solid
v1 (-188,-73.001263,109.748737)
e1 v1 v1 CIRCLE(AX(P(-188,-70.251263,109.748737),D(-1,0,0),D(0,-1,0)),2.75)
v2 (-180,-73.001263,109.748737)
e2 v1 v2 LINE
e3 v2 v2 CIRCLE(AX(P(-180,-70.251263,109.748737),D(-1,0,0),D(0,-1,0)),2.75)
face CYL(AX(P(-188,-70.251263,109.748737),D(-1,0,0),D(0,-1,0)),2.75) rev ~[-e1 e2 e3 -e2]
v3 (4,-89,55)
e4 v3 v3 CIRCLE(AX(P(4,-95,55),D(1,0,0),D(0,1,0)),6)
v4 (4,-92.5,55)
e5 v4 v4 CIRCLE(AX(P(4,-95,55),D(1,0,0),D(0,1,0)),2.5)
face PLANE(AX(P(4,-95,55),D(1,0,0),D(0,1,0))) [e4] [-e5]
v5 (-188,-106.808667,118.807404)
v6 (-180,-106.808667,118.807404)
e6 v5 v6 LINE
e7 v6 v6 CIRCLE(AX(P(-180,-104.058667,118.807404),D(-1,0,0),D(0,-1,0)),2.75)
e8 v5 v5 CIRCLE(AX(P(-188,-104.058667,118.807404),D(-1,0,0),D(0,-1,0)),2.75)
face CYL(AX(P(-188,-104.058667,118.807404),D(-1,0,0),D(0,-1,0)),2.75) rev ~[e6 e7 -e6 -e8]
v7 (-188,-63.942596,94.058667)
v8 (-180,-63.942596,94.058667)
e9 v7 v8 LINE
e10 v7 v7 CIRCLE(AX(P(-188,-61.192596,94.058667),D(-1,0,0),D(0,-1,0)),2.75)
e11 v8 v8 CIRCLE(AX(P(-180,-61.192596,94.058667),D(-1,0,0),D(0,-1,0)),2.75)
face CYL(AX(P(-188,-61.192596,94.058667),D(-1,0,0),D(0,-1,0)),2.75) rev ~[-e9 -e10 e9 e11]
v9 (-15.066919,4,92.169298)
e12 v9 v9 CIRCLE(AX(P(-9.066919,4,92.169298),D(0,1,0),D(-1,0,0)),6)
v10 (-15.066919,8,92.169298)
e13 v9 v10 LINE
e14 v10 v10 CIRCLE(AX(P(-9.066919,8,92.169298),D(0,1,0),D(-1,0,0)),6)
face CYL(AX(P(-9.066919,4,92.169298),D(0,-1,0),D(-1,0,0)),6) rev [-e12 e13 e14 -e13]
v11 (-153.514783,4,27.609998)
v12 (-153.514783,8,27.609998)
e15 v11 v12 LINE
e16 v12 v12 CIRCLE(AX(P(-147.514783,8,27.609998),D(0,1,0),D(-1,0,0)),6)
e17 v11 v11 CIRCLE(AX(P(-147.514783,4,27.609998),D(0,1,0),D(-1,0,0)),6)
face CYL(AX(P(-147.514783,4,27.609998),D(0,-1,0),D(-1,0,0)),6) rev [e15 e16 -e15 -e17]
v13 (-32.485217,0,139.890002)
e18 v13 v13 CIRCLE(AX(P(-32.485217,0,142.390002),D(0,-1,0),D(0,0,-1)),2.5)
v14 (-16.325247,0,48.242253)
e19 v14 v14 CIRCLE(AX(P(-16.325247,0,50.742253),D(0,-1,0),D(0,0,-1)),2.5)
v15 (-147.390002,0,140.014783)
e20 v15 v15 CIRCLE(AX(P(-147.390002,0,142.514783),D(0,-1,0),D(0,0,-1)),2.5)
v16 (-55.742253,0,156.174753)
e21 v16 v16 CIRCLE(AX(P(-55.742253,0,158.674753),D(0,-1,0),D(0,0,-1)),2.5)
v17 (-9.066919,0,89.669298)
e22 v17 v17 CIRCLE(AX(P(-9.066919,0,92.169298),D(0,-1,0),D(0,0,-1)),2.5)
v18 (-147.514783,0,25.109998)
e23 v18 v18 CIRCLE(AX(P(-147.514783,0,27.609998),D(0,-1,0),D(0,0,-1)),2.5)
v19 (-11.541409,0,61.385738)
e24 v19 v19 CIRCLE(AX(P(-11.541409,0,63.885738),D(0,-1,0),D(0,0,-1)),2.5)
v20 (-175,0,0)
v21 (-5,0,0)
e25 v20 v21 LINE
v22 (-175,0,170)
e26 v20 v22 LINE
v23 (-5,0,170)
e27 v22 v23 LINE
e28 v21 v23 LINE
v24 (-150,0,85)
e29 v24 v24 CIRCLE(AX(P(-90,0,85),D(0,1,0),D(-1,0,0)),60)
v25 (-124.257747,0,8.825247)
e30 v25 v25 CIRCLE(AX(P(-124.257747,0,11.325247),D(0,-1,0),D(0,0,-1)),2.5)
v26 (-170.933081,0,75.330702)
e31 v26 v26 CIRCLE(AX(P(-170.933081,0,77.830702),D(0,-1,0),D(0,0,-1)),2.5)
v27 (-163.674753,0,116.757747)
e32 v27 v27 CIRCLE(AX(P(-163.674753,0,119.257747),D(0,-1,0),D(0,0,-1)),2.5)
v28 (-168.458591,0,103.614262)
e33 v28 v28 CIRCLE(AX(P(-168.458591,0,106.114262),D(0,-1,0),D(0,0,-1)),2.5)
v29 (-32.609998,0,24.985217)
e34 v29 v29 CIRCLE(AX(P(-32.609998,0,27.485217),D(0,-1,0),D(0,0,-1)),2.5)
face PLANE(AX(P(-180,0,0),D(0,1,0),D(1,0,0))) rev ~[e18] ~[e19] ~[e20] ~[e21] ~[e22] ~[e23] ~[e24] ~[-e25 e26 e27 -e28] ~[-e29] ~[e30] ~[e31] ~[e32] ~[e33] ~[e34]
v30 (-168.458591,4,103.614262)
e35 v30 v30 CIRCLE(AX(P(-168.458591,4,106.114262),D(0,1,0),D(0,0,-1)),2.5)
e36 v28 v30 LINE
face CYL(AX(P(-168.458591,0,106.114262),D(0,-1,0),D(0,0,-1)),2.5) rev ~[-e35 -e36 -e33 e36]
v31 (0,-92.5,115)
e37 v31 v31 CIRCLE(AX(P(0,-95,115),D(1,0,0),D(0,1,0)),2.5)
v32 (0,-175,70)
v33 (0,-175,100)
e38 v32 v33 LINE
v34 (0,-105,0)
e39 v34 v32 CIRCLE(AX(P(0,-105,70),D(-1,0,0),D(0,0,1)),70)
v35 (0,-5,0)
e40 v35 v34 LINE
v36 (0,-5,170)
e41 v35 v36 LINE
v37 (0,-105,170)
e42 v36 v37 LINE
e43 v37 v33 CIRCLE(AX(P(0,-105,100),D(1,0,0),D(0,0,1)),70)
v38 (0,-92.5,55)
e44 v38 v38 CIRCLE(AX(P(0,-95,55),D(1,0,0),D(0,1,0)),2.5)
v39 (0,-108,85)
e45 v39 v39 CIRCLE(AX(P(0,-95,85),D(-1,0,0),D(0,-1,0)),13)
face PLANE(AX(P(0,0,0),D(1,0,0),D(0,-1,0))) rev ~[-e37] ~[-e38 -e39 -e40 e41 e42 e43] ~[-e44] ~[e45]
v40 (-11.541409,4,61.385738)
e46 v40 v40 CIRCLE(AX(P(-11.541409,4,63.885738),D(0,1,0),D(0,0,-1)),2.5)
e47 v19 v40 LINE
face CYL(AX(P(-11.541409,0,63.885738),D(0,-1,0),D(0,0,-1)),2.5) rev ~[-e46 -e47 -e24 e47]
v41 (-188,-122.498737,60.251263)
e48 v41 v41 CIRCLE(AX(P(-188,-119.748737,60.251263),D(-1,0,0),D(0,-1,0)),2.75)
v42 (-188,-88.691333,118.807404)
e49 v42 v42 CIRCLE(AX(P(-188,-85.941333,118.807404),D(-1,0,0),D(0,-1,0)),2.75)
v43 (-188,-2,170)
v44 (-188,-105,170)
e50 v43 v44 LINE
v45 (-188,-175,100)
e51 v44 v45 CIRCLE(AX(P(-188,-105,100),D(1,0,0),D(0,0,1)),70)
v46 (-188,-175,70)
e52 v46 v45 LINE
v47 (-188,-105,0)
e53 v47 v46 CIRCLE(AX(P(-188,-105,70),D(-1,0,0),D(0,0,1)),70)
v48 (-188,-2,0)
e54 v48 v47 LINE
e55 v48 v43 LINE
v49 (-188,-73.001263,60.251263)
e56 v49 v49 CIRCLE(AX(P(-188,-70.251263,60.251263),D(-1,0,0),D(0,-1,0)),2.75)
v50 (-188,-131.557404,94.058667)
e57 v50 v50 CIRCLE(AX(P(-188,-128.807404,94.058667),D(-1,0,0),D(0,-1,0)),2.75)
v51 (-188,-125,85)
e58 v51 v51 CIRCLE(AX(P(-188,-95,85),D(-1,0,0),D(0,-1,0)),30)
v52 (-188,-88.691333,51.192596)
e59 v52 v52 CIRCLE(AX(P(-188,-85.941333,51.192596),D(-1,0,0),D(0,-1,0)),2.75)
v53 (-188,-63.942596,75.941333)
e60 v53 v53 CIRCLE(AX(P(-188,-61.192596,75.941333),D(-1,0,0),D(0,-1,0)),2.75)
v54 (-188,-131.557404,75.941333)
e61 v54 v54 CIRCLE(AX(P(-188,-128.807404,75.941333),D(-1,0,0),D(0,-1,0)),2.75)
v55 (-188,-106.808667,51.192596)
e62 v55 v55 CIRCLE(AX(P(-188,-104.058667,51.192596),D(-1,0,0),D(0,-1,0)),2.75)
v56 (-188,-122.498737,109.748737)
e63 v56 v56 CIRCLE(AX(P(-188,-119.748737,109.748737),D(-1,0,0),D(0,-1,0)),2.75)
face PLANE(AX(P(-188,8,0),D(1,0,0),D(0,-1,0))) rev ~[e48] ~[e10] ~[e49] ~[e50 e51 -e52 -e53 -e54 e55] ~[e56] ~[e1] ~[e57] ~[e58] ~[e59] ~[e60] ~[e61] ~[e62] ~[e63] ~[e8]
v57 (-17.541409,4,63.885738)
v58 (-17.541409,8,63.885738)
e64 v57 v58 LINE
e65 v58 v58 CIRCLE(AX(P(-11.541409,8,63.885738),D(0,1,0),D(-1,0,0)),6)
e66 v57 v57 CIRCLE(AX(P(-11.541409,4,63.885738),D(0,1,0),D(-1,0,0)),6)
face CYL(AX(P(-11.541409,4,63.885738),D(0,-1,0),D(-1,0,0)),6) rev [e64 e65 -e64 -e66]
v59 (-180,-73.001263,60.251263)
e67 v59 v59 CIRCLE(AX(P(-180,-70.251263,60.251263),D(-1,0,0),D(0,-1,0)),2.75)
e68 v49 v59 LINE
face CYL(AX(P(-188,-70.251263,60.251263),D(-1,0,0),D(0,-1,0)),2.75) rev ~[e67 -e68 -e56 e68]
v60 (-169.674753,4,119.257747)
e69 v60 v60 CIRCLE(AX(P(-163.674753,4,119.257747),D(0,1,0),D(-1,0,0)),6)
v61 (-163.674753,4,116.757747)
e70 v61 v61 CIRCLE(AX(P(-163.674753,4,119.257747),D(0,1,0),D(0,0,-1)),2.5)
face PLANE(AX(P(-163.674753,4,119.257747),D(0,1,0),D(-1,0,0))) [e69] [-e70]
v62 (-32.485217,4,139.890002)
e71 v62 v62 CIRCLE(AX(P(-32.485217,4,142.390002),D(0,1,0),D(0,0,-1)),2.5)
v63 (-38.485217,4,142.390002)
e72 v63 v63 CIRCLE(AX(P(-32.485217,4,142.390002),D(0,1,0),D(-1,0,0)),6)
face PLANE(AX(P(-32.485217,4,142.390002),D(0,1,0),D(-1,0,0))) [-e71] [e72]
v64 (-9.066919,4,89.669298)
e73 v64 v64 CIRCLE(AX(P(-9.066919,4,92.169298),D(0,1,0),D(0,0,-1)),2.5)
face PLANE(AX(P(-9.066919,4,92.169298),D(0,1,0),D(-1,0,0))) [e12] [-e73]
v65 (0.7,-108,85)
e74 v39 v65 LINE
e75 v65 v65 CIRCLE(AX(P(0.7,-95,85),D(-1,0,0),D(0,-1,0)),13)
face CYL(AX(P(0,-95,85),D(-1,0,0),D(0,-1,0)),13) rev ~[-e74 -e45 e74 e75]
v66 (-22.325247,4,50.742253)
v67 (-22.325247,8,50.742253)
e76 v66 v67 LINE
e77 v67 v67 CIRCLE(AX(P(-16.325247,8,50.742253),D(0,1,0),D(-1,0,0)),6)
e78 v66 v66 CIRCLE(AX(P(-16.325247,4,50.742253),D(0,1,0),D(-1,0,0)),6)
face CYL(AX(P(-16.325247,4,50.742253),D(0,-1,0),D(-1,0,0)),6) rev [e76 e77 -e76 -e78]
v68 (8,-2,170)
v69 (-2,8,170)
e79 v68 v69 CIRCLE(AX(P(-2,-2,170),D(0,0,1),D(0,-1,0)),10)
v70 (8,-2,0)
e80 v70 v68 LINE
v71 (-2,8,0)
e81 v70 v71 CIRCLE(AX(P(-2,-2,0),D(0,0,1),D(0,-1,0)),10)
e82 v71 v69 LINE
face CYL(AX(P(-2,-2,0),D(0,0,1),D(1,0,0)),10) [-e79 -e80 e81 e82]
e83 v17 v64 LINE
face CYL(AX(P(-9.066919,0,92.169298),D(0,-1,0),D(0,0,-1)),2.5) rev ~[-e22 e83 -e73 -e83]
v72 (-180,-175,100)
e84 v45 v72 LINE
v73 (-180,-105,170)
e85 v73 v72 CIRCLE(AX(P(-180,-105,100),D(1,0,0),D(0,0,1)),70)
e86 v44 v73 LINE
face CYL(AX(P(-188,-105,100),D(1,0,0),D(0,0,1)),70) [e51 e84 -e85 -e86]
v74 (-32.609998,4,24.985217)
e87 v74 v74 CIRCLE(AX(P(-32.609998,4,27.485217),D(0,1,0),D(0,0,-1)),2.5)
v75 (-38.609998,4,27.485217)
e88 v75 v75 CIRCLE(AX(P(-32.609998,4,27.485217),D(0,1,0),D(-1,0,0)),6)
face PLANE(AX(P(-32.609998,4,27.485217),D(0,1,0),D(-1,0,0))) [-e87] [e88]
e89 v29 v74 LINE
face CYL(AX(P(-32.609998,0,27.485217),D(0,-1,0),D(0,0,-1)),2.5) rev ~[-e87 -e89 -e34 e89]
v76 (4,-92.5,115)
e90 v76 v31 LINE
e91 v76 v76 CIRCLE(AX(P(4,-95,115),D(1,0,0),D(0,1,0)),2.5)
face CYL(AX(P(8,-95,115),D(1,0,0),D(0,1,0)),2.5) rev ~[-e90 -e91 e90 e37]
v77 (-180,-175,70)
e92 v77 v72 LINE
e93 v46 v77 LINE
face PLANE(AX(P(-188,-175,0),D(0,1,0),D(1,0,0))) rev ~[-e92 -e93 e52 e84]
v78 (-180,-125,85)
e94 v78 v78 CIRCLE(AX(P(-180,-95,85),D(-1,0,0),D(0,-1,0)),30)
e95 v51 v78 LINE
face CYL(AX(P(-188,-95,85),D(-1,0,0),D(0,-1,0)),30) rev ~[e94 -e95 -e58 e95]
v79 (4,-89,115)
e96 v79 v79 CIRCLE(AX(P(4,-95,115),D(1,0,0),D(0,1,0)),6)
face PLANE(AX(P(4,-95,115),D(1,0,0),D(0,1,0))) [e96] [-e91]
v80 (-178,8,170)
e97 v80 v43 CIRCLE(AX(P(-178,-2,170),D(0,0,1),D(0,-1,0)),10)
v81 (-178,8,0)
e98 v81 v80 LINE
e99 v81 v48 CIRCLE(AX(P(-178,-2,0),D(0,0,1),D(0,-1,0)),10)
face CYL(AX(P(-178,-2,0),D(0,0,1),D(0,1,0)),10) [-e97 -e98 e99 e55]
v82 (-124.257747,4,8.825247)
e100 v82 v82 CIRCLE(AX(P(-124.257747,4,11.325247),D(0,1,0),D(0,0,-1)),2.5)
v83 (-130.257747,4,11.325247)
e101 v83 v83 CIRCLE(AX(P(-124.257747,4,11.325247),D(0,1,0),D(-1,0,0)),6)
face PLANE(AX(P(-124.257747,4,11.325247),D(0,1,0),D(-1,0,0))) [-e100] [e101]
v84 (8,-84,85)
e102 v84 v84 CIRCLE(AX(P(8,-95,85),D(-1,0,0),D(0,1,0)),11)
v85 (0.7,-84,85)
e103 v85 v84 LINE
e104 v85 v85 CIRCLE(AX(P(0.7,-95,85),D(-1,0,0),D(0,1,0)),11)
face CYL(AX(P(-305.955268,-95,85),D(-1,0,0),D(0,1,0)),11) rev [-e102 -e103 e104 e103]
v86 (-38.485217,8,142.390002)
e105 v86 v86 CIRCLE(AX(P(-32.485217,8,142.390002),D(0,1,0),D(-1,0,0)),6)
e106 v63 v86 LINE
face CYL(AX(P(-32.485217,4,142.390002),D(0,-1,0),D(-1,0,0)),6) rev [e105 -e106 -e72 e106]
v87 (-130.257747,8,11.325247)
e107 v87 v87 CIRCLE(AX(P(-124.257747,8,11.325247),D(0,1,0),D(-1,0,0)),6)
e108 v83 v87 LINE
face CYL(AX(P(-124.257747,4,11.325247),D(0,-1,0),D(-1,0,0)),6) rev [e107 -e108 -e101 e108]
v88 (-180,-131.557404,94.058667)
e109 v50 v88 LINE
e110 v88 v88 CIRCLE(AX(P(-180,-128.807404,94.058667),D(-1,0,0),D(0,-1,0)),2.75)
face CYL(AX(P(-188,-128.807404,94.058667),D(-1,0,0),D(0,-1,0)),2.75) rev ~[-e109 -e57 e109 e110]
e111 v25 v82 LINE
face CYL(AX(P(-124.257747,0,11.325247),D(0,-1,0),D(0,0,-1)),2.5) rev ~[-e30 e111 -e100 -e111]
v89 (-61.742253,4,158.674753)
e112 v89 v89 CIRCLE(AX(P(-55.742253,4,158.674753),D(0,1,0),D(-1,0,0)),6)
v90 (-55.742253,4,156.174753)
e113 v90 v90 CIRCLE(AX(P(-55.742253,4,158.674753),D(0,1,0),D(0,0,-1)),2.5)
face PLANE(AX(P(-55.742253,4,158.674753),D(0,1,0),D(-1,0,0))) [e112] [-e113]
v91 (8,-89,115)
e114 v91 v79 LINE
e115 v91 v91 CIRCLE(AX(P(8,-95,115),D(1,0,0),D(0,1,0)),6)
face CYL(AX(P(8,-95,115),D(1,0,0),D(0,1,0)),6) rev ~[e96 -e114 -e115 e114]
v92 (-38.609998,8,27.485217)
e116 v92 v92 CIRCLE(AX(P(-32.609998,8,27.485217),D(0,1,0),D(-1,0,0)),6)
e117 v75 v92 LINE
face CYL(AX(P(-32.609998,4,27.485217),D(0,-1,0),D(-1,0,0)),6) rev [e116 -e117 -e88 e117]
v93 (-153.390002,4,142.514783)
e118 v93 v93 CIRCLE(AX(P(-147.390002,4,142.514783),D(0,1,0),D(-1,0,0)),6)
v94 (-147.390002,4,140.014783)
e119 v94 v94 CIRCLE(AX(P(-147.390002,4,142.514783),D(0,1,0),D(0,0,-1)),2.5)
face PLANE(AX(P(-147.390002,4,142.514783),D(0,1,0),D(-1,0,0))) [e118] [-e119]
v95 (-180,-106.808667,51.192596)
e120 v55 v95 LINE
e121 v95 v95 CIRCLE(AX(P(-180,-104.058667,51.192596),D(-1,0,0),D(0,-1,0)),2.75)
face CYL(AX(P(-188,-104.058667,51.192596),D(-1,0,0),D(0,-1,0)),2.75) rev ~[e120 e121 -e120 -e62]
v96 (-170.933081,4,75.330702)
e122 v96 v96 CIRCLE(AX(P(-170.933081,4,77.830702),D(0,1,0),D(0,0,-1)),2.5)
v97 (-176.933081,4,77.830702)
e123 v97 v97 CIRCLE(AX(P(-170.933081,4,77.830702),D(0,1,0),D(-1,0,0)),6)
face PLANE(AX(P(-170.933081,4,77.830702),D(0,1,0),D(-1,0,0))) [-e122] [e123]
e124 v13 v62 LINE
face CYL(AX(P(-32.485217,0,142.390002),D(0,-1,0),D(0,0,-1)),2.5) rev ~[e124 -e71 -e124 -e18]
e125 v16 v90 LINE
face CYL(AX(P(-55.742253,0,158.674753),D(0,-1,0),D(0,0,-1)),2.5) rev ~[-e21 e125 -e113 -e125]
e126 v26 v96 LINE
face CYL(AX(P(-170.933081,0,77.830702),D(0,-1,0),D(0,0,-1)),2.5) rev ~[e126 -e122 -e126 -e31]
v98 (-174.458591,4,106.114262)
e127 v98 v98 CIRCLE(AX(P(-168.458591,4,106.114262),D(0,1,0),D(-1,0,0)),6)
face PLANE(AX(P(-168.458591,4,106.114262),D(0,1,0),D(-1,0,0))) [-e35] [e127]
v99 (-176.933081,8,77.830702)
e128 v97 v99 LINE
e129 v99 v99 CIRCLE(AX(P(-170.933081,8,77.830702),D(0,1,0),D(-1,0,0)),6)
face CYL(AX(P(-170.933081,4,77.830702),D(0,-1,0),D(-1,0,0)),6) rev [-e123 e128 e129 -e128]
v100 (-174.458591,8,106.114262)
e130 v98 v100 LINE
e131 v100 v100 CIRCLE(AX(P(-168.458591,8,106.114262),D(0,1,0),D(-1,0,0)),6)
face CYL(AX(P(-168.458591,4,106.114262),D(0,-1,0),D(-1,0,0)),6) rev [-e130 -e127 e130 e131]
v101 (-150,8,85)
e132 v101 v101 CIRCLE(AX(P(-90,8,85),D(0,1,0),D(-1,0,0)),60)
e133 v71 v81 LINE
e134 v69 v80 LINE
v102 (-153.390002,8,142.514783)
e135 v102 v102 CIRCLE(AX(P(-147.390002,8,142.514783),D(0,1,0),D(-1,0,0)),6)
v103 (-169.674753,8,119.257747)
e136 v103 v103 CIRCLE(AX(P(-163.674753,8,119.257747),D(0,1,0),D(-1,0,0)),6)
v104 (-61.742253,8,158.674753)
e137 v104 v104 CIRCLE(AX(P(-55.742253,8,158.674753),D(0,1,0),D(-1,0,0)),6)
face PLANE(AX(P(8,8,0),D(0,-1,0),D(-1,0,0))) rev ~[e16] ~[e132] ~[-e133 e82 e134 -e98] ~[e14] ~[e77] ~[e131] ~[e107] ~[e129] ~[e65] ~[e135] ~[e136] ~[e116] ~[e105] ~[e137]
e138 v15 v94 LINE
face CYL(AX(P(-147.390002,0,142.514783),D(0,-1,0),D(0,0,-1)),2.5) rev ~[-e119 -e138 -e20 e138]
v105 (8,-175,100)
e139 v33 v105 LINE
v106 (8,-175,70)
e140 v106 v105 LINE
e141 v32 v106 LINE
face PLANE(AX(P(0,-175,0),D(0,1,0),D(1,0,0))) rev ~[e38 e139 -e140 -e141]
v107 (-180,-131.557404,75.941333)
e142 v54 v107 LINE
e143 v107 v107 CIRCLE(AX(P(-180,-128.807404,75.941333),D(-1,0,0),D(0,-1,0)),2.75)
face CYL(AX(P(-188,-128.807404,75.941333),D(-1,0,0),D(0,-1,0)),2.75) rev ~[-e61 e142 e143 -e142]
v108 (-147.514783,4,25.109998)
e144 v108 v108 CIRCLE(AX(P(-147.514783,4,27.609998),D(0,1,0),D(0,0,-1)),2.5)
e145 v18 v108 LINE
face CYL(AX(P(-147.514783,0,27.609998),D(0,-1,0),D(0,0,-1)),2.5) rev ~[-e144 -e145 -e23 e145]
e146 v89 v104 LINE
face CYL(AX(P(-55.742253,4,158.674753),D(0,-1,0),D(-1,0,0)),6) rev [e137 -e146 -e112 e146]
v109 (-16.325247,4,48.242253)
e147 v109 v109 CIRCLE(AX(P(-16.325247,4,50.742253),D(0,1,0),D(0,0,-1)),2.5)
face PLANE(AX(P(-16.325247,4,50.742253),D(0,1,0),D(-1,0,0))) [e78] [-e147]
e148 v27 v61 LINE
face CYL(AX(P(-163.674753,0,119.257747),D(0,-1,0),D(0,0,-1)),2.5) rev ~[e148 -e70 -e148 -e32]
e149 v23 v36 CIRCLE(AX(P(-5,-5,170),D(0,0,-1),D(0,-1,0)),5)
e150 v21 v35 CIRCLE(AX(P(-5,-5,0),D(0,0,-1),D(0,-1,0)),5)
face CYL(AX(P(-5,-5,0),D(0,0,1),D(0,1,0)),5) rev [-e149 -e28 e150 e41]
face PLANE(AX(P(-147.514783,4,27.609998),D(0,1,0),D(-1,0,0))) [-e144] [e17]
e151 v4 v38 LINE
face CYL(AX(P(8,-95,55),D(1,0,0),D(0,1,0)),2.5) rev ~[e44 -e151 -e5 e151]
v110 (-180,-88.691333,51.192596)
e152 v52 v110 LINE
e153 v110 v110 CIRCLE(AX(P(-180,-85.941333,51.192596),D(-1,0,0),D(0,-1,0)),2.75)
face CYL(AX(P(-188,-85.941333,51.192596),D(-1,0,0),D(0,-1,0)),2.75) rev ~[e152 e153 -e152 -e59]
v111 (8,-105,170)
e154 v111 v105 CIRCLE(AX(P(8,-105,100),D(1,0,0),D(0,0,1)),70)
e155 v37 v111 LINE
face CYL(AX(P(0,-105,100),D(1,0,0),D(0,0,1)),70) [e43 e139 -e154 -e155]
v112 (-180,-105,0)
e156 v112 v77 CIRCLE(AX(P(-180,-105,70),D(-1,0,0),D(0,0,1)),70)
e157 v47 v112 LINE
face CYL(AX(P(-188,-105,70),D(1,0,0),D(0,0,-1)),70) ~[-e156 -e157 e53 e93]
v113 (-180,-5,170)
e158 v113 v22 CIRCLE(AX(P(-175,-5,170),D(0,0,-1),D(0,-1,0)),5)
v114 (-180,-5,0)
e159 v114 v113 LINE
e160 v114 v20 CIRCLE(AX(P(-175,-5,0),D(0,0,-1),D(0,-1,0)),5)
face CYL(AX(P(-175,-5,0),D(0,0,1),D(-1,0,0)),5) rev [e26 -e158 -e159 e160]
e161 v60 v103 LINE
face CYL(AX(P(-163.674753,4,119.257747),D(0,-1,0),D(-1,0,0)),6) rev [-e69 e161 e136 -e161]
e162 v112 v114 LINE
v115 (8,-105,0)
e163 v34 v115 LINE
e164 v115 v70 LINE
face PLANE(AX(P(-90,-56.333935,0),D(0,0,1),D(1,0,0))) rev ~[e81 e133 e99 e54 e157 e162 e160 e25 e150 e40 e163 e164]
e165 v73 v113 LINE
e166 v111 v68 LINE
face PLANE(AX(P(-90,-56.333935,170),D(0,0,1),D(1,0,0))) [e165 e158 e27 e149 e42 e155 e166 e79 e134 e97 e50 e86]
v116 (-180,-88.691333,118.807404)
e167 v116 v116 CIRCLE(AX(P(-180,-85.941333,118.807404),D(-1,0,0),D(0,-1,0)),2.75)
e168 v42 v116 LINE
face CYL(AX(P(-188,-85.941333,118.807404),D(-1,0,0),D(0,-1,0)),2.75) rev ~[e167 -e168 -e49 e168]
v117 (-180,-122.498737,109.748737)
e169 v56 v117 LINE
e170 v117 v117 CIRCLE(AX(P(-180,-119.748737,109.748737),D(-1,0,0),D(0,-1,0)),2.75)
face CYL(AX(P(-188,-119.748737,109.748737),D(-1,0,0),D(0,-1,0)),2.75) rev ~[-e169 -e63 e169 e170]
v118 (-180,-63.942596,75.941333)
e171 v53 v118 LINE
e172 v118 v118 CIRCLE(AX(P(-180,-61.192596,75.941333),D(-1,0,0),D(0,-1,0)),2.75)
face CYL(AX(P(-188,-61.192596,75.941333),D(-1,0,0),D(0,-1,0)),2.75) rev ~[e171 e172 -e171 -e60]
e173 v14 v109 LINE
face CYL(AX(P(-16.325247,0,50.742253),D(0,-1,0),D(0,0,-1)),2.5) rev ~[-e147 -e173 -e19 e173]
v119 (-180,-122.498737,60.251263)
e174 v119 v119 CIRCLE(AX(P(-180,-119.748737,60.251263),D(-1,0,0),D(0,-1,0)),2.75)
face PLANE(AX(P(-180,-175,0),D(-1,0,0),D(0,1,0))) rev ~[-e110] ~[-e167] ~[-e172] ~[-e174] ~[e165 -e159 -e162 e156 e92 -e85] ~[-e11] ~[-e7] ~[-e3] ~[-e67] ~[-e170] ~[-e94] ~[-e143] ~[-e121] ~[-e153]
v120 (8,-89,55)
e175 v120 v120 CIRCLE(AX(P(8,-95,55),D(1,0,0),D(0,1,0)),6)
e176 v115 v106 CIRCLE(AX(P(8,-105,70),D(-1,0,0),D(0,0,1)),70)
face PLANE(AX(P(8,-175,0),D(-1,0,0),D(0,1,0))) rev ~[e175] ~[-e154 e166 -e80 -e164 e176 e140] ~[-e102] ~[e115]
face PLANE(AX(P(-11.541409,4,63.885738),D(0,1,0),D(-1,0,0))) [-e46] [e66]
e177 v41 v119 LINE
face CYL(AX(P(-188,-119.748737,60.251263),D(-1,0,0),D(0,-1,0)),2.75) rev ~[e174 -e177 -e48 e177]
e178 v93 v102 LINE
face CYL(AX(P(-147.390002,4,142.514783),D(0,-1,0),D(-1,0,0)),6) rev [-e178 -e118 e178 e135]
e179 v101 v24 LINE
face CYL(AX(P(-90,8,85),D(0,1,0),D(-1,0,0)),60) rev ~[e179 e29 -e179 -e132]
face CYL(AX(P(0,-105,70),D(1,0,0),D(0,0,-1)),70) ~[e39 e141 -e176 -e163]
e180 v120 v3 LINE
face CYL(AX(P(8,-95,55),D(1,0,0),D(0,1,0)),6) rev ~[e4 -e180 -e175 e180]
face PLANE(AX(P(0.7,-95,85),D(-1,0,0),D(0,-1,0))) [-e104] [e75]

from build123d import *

# Parameters (mm, degrees)
EXTRUDE_1_DEPTH          = 170
SKETCH_2_R               = 60
CUT_EXTRUDE_1_DEPTH      = 180
CUT_EXTRUDE_2_DEPTH      = 313.955268369
CUT_EXTRUDE_2_DEPTH_BACK = 313.955268369
SKETCH_3_R               = 11
FILLET_1_R               = 70
FILLET_2_R               = 5
FILLET_3_R               = 10
SKETCH_6_R               = 30
CUT_EXTRUDE_6_DEPTH      = 39
SKETCH_7_R               = 13
CUT_EXTRUDE_7_DEPTH      = 0.7
SKETCH_8_R               = 2.5
CUT_EXTRUDE_8_DEPTH      = 10
SKETCH_9_R               = 6
CUT_EXTRUDE_9_DEPTH      = 4
SKETCH_10_R              = 2.5
CUT_EXTRUDE_10_DEPTH     = 10
CUT_EXTRUDE_START        = -4
SKETCH_11_R              = 6
SKETCH_11_R_2            = 2.5
CUT_EXTRUDE_11_DEPTH     = 4
SKETCH_12_R              = 2.75
CUT_EXTRUDE_12_DEPTH     = 10


with BuildPart() as part:
    # 草图1 → 凸台-拉伸1 (new body)
    with BuildSketch(Plane.XY):
        Polygon((-180, 0), (0, 0), (0, -175), (8, -175), (8, 8), (-180, 8), (-188, 8), (-188, -175), (-180, -175), align=None)
    extrude(amount=EXTRUDE_1_DEPTH)

    # 草图2 → 切除-拉伸1 (cut)
    with BuildSketch(Plane(origin=(0, 8, 0), x_dir=(1, 0, 0), z_dir=(0, 1, 0))):
        with Locations(Location((-90, -85, 0), (0, 0, 180))):
            Circle(SKETCH_2_R)
    extrude(amount=-CUT_EXTRUDE_1_DEPTH, mode=Mode.SUBTRACT)

    # 草图3 → 切除-拉伸2 (cut, two sides: drawn at the far end of the back side and taken through both)
    with BuildSketch(Plane(origin=(8, 0, 0), x_dir=(0, 0, -1), z_dir=(1, 0, 0)).offset(-CUT_EXTRUDE_2_DEPTH_BACK)):
        with Locations(Location((-85, -95, 0), (0, 0, 90))):
            Circle(SKETCH_3_R)
    extrude(amount=CUT_EXTRUDE_2_DEPTH + CUT_EXTRUDE_2_DEPTH_BACK, mode=Mode.SUBTRACT)

    # 圆角1
    fillet_1_edges = [part.edges().sort_by_distance(p)[0] for p in [
        (4, -175, 0),
        (4, -175, 170),
        (-184, -175, 170),
        (-184, -175, 0),
    ]]
    fillet(fillet_1_edges, radius=FILLET_1_R)

    # 圆角2
    fillet_2_edges = [part.edges().sort_by_distance(p)[0] for p in [
        (0, 0, 85),
        (-180, 0, 85),
    ]]
    fillet(fillet_2_edges, radius=FILLET_2_R)

    # 圆角3
    fillet_3_edges = [part.edges().sort_by_distance(p)[0] for p in [
        (-188, 8, 85),
        (8, 8, 85),
    ]]
    fillet(fillet_3_edges, radius=FILLET_3_R)

    # 草图6 → 切除-拉伸6 (cut)
    with BuildSketch(Plane.ZY.offset(188)):
        with Locations(Location((85, -95, 0), (0, 0, 270))):
            Circle(SKETCH_6_R)
    extrude(amount=-CUT_EXTRUDE_6_DEPTH, mode=Mode.SUBTRACT)

    # 草图7 → 切除-拉伸7 (cut)
    with BuildSketch(Plane.ZY):
        with Locations(Location((85, -95, 0), (0, 0, 270))):
            Circle(SKETCH_7_R)
    extrude(amount=-CUT_EXTRUDE_7_DEPTH, mode=Mode.SUBTRACT)

    # 草图8 → 切除-拉伸8 (cut)
    with BuildSketch(Plane(origin=(8, 0, 0), x_dir=(0, 0, -1), z_dir=(1, 0, 0))):
        with Locations(Location((-55, -95, 0), (0, 0, 90))):
            Circle(SKETCH_8_R)
        with Locations(Location((-115, -95, 0), (0, 0, 90))):
            Circle(SKETCH_8_R)
    extrude(amount=-CUT_EXTRUDE_8_DEPTH, mode=Mode.SUBTRACT)

    # 草图9 → 切除-拉伸9 (cut)
    with BuildSketch(Plane(origin=(8, 0, 0), x_dir=(0, 0, -1), z_dir=(1, 0, 0))):
        with Locations(Location((-55, -95, 0), (0, 0, 90))):
            Circle(SKETCH_9_R)
        with Locations(Location((-115, -95, 0), (0, 0, 90))):
            Circle(SKETCH_9_R)
    extrude(amount=-CUT_EXTRUDE_9_DEPTH, mode=Mode.SUBTRACT)

    # 草图10 → 切除-拉伸10 (cut)
    with BuildSketch(Plane.XZ):
        with Locations(Location((-55.742253069, 158.674753309, 0), (0, 0, 270))):
            Circle(SKETCH_10_R)
        with Locations(Location((-32.485217492, 142.390001682, 0), (0, 0, 270))):
            Circle(SKETCH_10_R)
        with Locations(Location((-9.066918551, 92.169297536, 0), (0, 0, 270))):
            Circle(SKETCH_10_R)
        with Locations(Location((-11.541409366, 63.885738097, 0), (0, 0, 270))):
            Circle(SKETCH_10_R)
        with Locations(Location((-16.325246691, 50.742253069, 0), (0, 0, 270))):
            Circle(SKETCH_10_R)
        with Locations(Location((-32.609998318, 27.485217492, 0), (0, 0, 270))):
            Circle(SKETCH_10_R)
        with Locations(Location((-124.257746931, 11.325246691, 0), (0, 0, 270))):
            Circle(SKETCH_10_R)
        with Locations(Location((-147.514782508, 27.609998318, 0), (0, 0, 270))):
            Circle(SKETCH_10_R)
        with Locations(Location((-170.933081449, 77.830702464, 0), (0, 0, 270))):
            Circle(SKETCH_10_R)
        with Locations(Location((-168.458590634, 106.114261903, 0), (0, 0, 270))):
            Circle(SKETCH_10_R)
        with Locations(Location((-163.674753309, 119.257746931, 0), (0, 0, 270))):
            Circle(SKETCH_10_R)
        with Locations(Location((-147.390001682, 142.514782508, 0), (0, 0, 270))):
            Circle(SKETCH_10_R)
    extrude(amount=-CUT_EXTRUDE_10_DEPTH, mode=Mode.SUBTRACT)

    # 草图11 → 切除-拉伸11 (cut)
    # profile 1 of 12: a face of its own
    with BuildSketch(Plane(origin=(0, 8, 0), x_dir=(1, 0, 0), z_dir=(0, 1, 0)).offset(CUT_EXTRUDE_START)):
        with Locations(Location((-32.485217492, -142.390001682, 0), (0, 0, 180))):
            Circle(SKETCH_11_R)
        with Locations(Location((-32.485217492, -142.390001682, 0), (0, 0, 90))):
            Circle(SKETCH_11_R_2, mode=Mode.SUBTRACT)
    # profile 2 of 12: a face of its own
    with BuildSketch(Plane(origin=(0, 8, 0), x_dir=(1, 0, 0), z_dir=(0, 1, 0)).offset(CUT_EXTRUDE_START)):
        with Locations(Location((-55.742253069, -158.674753309, 0), (0, 0, 180))):
            Circle(SKETCH_11_R)
        with Locations(Location((-55.742253069, -158.674753309, 0), (0, 0, 90))):
            Circle(SKETCH_11_R_2, mode=Mode.SUBTRACT)
    # profile 3 of 12: a face of its own
    with BuildSketch(Plane(origin=(0, 8, 0), x_dir=(1, 0, 0), z_dir=(0, 1, 0)).offset(CUT_EXTRUDE_START)):
        with Locations(Location((-147.390001682, -142.514782508, 0), (0, 0, 180))):
            Circle(SKETCH_11_R)
        with Locations(Location((-147.390001682, -142.514782508, 0), (0, 0, 90))):
            Circle(SKETCH_11_R_2, mode=Mode.SUBTRACT)
    # profile 4 of 12: a face of its own
    with BuildSketch(Plane(origin=(0, 8, 0), x_dir=(1, 0, 0), z_dir=(0, 1, 0)).offset(CUT_EXTRUDE_START)):
        with Locations(Location((-163.674753309, -119.257746931, 0), (0, 0, 180))):
            Circle(SKETCH_11_R)
        with Locations(Location((-163.674753309, -119.257746931, 0), (0, 0, 90))):
            Circle(SKETCH_11_R_2, mode=Mode.SUBTRACT)
    # profile 5 of 12: a face of its own
    with BuildSketch(Plane(origin=(0, 8, 0), x_dir=(1, 0, 0), z_dir=(0, 1, 0)).offset(CUT_EXTRUDE_START)):
        with Locations(Location((-168.458590634, -106.114261903, 0), (0, 0, 180))):
            Circle(SKETCH_11_R)
        with Locations(Location((-168.458590634, -106.114261903, 0), (0, 0, 90))):
            Circle(SKETCH_11_R_2, mode=Mode.SUBTRACT)
    # profile 6 of 12: a face of its own
    with BuildSketch(Plane(origin=(0, 8, 0), x_dir=(1, 0, 0), z_dir=(0, 1, 0)).offset(CUT_EXTRUDE_START)):
        with Locations(Location((-170.933081449, -77.830702464, 0), (0, 0, 180))):
            Circle(SKETCH_11_R)
        with Locations(Location((-170.933081449, -77.830702464, 0), (0, 0, 90))):
            Circle(SKETCH_11_R_2, mode=Mode.SUBTRACT)
    # profile 7 of 12: a face of its own
    with BuildSketch(Plane(origin=(0, 8, 0), x_dir=(1, 0, 0), z_dir=(0, 1, 0)).offset(CUT_EXTRUDE_START)):
        with Locations(Location((-147.514782508, -27.609998318, 0), (0, 0, 180))):
            Circle(SKETCH_11_R)
        with Locations(Location((-147.514782508, -27.609998318, 0), (0, 0, 90))):
            Circle(SKETCH_11_R_2, mode=Mode.SUBTRACT)
    # profile 8 of 12: a face of its own
    with BuildSketch(Plane(origin=(0, 8, 0), x_dir=(1, 0, 0), z_dir=(0, 1, 0)).offset(CUT_EXTRUDE_START)):
        with Locations(Location((-124.257746931, -11.325246691, 0), (0, 0, 180))):
            Circle(SKETCH_11_R)
        with Locations(Location((-124.257746931, -11.325246691, 0), (0, 0, 90))):
            Circle(SKETCH_11_R_2, mode=Mode.SUBTRACT)
    # profile 9 of 12: a face of its own
    with BuildSketch(Plane(origin=(0, 8, 0), x_dir=(1, 0, 0), z_dir=(0, 1, 0)).offset(CUT_EXTRUDE_START)):
        with Locations(Location((-32.609998318, -27.485217492, 0), (0, 0, 180))):
            Circle(SKETCH_11_R)
        with Locations(Location((-32.609998318, -27.485217492, 0), (0, 0, 90))):
            Circle(SKETCH_11_R_2, mode=Mode.SUBTRACT)
    # profile 10 of 12: a face of its own
    with BuildSketch(Plane(origin=(0, 8, 0), x_dir=(1, 0, 0), z_dir=(0, 1, 0)).offset(CUT_EXTRUDE_START)):
        with Locations(Location((-16.325246691, -50.742253069, 0), (0, 0, 180))):
            Circle(SKETCH_11_R)
        with Locations(Location((-16.325246691, -50.742253069, 0), (0, 0, 90))):
            Circle(SKETCH_11_R_2, mode=Mode.SUBTRACT)
    # profile 11 of 12: a face of its own
    with BuildSketch(Plane(origin=(0, 8, 0), x_dir=(1, 0, 0), z_dir=(0, 1, 0)).offset(CUT_EXTRUDE_START)):
        with Locations(Location((-11.541409366, -63.885738097, 0), (0, 0, 180))):
            Circle(SKETCH_11_R)
        with Locations(Location((-11.541409366, -63.885738097, 0), (0, 0, 90))):
            Circle(SKETCH_11_R_2, mode=Mode.SUBTRACT)
    # profile 12 of 12: a face of its own
    with BuildSketch(Plane(origin=(0, 8, 0), x_dir=(1, 0, 0), z_dir=(0, 1, 0)).offset(CUT_EXTRUDE_START)):
        with Locations(Location((-9.066918551, -92.169297536, 0), (0, 0, 180))):
            Circle(SKETCH_11_R)
        with Locations(Location((-9.066918551, -92.169297536, 0), (0, 0, 90))):
            Circle(SKETCH_11_R_2, mode=Mode.SUBTRACT)
    extrude(amount=CUT_EXTRUDE_11_DEPTH, mode=Mode.SUBTRACT)

    # 草图12 → 切除-拉伸12 (cut)
    with BuildSketch(Plane.ZY.offset(188)):
        with Locations(Location((94.058666579, -128.80740392, 0), (0, 0, 270))):
            Circle(SKETCH_12_R)
        with Locations(Location((75.941333421, -128.80740392, 0), (0, 0, 270))):
            Circle(SKETCH_12_R)
        with Locations(Location((60.251262658, -119.748737342, 0), (0, 0, 270))):
            Circle(SKETCH_12_R)
        with Locations(Location((51.19259608, -104.058666579, 0), (0, 0, 270))):
            Circle(SKETCH_12_R)
        with Locations(Location((51.19259608, -85.941333421, 0), (0, 0, 270))):
            Circle(SKETCH_12_R)
        with Locations(Location((60.251262658, -70.251262658, 0), (0, 0, 270))):
            Circle(SKETCH_12_R)
        with Locations(Location((75.941333421, -61.19259608, 0), (0, 0, 270))):
            Circle(SKETCH_12_R)
        with Locations(Location((94.058666579, -61.19259608, 0), (0, 0, 270))):
            Circle(SKETCH_12_R)
        with Locations(Location((109.748737342, -70.251262658, 0), (0, 0, 270))):
            Circle(SKETCH_12_R)
        with Locations(Location((118.80740392, -85.941333421, 0), (0, 0, 270))):
            Circle(SKETCH_12_R)
        with Locations(Location((118.80740392, -104.058666579, 0), (0, 0, 270))):
            Circle(SKETCH_12_R)
        with Locations(Location((109.748737342, -119.748737342, 0), (0, 0, 270))):
            Circle(SKETCH_12_R)
    extrude(amount=-CUT_EXTRUDE_12_DEPTH, mode=Mode.SUBTRACT)


solid = part.part
